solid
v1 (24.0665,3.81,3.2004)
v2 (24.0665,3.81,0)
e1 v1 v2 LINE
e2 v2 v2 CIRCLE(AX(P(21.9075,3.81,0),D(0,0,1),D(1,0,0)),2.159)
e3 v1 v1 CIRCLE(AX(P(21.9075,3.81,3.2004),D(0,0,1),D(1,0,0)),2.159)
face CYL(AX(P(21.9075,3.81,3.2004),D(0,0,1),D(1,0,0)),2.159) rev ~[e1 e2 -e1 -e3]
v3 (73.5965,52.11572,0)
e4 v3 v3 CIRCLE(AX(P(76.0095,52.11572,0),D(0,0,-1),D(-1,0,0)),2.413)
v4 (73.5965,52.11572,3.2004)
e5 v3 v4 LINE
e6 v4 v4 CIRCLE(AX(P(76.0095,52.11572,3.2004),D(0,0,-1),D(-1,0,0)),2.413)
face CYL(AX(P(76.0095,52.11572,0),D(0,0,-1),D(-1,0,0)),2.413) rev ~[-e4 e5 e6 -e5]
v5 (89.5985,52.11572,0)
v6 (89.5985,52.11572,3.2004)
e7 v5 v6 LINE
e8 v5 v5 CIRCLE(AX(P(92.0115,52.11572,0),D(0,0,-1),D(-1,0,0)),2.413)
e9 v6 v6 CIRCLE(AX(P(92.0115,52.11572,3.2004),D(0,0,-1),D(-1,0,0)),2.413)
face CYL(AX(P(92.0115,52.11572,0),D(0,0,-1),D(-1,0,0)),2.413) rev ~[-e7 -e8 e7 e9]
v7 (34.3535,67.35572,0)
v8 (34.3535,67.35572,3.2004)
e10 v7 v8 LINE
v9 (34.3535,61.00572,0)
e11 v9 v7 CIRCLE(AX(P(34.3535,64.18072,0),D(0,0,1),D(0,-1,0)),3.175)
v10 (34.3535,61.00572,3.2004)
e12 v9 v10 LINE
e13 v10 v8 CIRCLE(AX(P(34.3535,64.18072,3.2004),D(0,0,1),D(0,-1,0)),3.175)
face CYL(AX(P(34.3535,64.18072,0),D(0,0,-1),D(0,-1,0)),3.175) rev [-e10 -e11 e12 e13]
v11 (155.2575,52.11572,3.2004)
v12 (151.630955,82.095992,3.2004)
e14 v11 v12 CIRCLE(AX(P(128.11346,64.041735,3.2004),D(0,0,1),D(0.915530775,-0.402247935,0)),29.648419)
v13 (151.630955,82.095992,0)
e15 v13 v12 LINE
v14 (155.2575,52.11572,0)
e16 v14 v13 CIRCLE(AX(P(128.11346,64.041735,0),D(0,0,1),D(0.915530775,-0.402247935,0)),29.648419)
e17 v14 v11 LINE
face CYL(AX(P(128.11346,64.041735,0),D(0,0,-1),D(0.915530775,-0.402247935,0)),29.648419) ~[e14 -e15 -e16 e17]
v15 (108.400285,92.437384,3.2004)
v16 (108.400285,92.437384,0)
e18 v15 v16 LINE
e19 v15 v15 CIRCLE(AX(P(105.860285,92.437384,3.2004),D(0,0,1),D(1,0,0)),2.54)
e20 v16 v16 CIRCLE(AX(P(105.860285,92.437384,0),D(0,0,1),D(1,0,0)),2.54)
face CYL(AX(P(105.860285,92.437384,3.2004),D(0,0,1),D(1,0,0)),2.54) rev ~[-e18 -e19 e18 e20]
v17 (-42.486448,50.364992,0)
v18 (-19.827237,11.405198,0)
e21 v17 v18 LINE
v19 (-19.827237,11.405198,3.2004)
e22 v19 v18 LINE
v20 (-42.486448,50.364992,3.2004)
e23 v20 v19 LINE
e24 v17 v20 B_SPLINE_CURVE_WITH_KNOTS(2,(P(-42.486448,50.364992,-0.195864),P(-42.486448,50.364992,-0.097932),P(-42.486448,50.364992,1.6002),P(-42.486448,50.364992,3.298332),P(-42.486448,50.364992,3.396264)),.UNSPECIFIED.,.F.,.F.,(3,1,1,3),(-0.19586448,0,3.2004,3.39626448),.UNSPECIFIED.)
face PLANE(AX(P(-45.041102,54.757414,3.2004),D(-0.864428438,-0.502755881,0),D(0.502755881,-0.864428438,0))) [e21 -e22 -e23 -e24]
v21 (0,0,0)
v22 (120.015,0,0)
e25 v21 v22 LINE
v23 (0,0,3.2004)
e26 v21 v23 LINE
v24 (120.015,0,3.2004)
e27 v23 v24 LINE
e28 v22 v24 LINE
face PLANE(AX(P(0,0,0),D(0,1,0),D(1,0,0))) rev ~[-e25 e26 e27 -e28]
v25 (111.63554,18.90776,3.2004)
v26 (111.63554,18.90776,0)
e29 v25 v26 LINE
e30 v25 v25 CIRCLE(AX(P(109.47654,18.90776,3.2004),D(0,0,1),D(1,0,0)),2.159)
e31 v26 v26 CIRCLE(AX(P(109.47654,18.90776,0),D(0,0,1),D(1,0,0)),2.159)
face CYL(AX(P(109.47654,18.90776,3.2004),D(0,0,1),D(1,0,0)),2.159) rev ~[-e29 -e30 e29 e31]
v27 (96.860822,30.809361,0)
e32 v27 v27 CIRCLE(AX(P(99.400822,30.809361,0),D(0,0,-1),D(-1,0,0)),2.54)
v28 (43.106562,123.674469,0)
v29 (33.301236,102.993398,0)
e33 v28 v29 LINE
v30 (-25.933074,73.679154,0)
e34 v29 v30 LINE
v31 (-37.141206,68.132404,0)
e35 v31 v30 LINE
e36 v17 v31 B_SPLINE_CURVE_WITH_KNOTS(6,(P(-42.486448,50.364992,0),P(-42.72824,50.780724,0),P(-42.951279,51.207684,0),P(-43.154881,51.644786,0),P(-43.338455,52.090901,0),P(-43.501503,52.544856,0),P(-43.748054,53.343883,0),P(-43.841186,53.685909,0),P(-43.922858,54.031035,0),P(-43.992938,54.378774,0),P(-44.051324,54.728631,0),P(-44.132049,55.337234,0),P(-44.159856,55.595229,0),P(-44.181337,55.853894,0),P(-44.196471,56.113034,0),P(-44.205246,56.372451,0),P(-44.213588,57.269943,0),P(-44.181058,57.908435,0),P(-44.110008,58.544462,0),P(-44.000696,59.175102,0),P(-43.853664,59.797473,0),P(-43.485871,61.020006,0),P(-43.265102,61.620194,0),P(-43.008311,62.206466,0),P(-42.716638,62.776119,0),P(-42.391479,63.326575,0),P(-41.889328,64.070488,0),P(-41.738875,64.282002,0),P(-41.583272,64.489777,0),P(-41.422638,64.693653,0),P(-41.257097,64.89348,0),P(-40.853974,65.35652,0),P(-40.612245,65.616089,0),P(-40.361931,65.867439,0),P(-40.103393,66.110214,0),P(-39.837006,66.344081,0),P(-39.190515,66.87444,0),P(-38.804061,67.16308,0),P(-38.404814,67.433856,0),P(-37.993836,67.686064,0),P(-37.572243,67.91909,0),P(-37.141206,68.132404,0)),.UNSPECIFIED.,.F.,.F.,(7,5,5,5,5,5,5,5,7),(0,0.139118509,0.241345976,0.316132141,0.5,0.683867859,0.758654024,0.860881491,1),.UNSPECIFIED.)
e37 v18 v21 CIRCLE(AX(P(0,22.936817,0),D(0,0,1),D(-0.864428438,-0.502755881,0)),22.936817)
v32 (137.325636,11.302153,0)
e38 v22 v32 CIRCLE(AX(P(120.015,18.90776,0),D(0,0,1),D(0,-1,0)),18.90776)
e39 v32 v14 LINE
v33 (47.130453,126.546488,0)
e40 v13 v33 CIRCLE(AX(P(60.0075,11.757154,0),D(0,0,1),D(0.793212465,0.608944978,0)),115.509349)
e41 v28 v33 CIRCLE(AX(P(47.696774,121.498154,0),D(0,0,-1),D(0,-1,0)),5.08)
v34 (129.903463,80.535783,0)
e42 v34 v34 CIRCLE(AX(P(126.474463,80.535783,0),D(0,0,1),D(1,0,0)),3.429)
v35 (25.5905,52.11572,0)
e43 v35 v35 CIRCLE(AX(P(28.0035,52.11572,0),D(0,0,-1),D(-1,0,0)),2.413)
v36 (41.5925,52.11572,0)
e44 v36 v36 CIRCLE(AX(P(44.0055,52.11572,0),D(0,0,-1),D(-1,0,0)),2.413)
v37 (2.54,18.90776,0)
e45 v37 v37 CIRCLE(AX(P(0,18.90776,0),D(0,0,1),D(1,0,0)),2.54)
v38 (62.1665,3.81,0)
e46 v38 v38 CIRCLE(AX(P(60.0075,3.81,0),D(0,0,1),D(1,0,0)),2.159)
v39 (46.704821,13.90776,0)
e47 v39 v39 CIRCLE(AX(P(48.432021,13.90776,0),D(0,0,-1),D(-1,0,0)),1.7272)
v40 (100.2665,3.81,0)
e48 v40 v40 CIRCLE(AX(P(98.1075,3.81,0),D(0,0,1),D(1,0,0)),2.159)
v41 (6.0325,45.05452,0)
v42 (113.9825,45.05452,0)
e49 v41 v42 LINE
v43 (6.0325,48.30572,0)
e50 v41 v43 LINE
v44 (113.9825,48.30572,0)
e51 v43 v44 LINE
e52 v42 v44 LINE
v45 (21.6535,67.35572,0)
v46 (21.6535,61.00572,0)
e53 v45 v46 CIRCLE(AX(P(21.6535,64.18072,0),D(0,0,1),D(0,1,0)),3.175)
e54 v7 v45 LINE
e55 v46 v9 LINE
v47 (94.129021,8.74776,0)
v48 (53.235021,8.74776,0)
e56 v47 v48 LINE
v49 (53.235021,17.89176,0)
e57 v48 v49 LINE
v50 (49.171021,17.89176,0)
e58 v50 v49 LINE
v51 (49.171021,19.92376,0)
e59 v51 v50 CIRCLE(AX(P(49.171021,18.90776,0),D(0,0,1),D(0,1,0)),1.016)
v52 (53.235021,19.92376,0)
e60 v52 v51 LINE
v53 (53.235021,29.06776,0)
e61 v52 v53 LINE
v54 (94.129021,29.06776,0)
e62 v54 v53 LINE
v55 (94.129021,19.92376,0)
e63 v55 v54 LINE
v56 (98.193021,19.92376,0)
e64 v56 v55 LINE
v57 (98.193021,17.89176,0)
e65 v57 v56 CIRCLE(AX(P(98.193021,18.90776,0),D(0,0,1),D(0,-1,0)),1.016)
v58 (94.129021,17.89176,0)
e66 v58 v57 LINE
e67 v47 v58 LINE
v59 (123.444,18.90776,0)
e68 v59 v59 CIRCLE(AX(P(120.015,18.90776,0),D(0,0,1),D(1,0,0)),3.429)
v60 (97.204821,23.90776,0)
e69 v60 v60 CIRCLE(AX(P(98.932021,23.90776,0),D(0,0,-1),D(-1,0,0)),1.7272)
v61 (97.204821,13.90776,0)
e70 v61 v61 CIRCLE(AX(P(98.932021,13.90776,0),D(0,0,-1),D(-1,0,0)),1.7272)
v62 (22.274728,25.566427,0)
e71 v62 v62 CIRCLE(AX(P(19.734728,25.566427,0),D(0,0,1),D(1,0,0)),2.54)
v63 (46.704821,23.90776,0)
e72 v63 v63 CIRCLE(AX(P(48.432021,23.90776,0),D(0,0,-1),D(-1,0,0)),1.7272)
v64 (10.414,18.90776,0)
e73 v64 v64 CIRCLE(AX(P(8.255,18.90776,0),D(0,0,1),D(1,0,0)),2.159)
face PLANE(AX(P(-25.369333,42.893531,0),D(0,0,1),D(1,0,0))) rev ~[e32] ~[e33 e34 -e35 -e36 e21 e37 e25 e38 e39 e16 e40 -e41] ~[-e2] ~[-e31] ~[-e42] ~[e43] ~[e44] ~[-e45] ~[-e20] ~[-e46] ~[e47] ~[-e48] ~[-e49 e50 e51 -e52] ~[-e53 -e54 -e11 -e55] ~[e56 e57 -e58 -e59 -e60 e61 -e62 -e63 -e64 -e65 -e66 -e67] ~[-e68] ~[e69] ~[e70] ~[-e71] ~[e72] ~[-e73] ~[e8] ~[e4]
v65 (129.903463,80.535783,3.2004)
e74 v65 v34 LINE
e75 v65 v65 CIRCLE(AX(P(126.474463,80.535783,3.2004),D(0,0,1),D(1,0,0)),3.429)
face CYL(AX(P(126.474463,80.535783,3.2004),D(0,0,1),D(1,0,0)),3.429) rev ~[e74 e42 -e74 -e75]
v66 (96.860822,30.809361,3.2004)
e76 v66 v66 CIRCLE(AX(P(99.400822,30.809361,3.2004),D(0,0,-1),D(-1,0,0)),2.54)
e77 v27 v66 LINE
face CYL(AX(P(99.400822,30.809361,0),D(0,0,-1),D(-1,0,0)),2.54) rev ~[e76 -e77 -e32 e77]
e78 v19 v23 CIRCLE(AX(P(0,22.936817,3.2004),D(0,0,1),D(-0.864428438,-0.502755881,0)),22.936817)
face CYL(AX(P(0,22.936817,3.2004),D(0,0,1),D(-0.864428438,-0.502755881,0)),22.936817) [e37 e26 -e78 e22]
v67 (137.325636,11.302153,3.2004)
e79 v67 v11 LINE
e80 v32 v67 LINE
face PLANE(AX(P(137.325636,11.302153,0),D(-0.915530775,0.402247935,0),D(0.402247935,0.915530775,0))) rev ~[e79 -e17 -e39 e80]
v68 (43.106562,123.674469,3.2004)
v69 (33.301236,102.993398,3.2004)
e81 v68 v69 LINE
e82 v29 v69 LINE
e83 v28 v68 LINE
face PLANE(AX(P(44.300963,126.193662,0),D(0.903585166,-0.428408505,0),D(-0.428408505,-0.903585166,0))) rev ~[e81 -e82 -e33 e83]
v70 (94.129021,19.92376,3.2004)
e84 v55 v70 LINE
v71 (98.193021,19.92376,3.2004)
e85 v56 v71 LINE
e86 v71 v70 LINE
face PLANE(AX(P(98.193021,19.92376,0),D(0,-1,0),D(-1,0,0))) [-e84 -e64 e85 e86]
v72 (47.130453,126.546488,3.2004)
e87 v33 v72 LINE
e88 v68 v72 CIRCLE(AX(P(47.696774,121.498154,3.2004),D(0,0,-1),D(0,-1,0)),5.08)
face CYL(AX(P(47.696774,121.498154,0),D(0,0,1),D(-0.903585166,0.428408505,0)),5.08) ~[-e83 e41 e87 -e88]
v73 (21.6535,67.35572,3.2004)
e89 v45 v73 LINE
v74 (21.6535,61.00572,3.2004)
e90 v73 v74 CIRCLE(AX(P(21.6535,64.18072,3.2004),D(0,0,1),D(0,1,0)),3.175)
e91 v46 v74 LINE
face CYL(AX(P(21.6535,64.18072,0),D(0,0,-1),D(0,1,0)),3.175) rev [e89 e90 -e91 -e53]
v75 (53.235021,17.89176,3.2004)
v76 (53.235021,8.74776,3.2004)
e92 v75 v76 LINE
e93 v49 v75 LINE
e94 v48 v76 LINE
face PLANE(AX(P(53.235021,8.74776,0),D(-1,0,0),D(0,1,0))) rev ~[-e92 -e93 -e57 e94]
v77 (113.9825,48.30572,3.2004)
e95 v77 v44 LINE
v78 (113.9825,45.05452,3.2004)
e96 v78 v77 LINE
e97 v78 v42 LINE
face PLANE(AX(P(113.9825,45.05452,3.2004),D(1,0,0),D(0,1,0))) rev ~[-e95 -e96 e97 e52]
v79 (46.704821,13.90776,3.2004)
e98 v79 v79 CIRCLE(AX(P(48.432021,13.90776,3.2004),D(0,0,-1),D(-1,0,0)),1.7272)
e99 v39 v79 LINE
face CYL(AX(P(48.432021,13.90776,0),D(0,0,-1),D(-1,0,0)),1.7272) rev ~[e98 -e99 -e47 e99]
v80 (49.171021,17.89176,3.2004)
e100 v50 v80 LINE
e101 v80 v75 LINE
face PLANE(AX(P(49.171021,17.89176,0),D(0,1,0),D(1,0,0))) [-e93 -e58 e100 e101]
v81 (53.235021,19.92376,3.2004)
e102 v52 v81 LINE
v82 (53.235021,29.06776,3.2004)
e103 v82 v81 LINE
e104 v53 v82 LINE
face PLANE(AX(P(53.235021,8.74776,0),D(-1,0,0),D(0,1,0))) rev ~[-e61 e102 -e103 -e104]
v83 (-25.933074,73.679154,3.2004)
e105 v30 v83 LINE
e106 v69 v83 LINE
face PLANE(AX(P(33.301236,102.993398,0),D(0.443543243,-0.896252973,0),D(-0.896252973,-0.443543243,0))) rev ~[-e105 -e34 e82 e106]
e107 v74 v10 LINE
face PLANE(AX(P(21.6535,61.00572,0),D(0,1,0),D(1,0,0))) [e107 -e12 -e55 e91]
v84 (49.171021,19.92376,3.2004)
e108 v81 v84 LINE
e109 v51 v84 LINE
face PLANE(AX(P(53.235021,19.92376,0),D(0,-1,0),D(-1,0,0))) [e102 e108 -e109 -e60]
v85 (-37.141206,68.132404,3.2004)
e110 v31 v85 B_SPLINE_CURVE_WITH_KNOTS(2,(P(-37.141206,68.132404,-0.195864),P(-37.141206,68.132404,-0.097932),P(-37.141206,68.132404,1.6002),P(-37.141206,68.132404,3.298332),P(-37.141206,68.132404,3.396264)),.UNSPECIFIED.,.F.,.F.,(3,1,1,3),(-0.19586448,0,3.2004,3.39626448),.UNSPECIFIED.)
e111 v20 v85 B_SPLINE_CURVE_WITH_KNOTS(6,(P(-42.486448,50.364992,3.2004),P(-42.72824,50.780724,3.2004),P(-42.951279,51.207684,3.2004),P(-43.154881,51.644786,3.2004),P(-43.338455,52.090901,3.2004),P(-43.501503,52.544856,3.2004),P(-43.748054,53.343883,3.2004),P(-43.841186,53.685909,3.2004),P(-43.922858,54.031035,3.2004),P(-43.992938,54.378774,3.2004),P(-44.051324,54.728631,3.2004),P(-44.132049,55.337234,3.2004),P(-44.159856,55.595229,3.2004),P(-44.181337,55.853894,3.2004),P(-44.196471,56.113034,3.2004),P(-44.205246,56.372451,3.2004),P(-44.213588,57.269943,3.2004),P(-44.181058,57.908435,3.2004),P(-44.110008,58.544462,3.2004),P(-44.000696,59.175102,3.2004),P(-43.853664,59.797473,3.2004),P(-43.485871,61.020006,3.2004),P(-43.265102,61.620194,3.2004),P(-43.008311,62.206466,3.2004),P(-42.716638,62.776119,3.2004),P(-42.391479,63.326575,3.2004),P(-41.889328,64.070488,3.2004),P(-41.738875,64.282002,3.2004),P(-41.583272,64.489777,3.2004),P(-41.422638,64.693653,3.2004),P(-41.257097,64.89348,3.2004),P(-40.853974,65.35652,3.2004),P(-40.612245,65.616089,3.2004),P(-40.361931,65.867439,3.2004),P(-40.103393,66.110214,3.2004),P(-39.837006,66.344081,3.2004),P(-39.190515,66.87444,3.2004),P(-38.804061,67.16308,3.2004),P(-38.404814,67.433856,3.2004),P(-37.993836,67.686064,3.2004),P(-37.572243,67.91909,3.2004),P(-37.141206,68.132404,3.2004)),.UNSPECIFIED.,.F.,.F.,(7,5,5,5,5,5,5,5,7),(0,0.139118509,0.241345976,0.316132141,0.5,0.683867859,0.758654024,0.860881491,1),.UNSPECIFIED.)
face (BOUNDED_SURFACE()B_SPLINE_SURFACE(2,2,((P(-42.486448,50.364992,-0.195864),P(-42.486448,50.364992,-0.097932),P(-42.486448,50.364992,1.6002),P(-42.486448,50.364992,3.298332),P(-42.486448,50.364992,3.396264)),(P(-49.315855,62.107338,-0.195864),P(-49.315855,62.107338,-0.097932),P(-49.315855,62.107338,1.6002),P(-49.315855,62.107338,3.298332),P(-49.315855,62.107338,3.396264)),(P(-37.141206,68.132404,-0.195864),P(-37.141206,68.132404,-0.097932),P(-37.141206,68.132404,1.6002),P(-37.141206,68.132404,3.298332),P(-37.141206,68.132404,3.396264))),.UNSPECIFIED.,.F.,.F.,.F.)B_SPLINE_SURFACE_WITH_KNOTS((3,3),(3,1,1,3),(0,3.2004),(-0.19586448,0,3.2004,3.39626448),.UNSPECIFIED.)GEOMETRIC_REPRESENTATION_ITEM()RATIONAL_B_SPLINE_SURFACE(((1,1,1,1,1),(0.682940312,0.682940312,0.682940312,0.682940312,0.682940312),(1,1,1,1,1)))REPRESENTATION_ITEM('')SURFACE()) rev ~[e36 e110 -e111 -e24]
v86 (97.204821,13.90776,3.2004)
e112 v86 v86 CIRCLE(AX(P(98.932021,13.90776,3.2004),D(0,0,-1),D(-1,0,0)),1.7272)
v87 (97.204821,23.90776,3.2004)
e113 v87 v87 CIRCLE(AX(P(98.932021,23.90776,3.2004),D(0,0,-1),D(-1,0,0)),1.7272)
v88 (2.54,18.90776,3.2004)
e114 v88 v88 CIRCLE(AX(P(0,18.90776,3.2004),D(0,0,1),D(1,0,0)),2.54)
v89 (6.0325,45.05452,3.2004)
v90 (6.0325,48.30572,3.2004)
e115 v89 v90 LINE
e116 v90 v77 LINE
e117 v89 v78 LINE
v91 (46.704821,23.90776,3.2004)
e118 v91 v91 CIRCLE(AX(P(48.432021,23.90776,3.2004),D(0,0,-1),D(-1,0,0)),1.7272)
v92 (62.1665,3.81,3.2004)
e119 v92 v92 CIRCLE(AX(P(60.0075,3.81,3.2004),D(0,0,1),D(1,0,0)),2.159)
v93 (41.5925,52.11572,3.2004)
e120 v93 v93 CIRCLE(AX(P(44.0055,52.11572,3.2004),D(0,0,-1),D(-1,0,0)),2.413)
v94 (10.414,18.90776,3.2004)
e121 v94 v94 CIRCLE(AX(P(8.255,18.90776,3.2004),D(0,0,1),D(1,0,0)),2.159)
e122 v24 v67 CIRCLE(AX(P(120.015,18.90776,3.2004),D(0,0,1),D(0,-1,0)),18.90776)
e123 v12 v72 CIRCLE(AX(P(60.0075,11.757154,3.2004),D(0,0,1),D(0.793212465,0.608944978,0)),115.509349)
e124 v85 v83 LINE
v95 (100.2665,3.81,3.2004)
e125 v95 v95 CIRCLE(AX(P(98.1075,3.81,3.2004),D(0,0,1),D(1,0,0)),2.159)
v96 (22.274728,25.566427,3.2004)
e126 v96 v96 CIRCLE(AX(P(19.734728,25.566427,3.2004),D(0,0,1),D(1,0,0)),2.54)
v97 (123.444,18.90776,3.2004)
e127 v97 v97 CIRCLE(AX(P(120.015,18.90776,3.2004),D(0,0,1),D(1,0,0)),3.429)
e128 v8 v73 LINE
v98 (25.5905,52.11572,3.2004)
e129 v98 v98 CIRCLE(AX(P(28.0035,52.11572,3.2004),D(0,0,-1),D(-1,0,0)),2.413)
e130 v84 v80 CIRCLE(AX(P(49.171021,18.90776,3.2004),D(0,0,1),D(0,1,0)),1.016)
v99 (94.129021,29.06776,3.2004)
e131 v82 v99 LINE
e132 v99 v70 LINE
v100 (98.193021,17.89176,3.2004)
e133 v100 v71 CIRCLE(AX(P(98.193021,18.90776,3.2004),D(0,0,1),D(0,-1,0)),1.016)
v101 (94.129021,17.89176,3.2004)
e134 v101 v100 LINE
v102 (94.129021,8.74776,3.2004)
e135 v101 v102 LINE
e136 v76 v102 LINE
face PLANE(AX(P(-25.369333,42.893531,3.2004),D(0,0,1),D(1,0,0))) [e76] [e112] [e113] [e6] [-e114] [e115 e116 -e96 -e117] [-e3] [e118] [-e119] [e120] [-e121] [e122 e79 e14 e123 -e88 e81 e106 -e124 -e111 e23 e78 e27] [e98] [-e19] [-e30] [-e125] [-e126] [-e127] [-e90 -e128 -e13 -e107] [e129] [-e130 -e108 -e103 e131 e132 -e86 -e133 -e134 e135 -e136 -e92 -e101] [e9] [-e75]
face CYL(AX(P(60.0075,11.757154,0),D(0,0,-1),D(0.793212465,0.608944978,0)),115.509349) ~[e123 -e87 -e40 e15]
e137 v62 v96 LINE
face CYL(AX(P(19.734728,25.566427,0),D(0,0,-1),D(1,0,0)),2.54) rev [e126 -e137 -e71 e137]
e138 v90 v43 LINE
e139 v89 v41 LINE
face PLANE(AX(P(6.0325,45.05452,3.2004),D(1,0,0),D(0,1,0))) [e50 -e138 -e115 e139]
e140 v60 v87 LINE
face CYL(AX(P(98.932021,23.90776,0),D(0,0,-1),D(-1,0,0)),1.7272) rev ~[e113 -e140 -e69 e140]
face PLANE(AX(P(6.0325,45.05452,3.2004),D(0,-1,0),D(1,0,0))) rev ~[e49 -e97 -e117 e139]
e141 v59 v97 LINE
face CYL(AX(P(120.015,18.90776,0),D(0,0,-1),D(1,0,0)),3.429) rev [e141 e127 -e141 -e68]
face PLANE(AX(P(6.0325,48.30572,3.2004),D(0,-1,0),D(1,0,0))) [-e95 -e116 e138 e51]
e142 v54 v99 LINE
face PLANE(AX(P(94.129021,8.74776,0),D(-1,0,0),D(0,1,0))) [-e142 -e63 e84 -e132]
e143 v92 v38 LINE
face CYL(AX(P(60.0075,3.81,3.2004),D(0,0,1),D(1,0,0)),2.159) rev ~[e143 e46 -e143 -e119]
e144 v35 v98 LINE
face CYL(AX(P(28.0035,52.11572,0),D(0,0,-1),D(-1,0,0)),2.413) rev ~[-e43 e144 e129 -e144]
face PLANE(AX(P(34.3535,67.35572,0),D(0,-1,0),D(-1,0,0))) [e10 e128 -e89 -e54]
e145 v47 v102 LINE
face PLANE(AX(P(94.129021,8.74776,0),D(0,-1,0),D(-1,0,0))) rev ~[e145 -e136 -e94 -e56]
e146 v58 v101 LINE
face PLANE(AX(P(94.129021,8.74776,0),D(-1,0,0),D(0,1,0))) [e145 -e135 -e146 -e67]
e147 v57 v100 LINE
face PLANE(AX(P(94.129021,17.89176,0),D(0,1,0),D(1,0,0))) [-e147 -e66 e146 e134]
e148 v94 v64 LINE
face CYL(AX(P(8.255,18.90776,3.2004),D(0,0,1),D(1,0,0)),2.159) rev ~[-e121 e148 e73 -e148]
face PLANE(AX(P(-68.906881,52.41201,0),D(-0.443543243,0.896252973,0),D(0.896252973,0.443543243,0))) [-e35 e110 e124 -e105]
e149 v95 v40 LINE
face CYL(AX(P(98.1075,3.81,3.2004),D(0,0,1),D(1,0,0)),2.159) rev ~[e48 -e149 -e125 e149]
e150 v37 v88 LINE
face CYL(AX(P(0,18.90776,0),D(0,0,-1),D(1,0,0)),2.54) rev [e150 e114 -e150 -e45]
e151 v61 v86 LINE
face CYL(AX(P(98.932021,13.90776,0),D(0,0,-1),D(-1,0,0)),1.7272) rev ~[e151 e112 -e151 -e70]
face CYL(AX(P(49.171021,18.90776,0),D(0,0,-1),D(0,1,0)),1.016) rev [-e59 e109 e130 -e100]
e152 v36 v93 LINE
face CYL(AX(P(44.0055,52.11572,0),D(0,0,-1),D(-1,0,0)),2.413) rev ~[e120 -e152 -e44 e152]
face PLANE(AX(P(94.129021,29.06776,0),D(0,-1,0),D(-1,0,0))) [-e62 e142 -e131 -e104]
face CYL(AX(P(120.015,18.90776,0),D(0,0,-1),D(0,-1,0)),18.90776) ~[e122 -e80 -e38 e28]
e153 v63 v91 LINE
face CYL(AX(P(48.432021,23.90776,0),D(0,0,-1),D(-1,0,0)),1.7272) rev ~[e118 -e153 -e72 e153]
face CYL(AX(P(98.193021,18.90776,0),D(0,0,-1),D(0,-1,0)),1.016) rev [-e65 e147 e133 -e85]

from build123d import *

# Parameters (mm, degrees)
SKETCH1_R           = 3.429
SKETCH1_R_2         = 2.54
BOSS_EXTRUDE1_DEPTH = 3.2004
SKETCH2_R           = 2.413
CUT_EXTRUDE1_DEPTH  = 3.2004
SKETCH5_R           = 1.7272
SKETCH5_W           = 40.894
SKETCH5_H           = 20.32
CUT_EXTRUDE3_DEPTH  = 4.2004
CUT_EXTRUDE5_DEPTH  = 3.2004
SKETCH6_R           = 2.54
CUT_EXTRUDE4_DEPTH  = 4.2004
SKETCH9_R           = 2.159
CUT_EXTRUDE6_DEPTH  = 3.2004
SKETCH10_W          = 107.95
SKETCH10_H          = 3.2512
CUT_EXTRUDE7_DEPTH  = 3.2004
SKETCH11_R          = 3.429
SKETCH11_R_2        = 2.54
CUT_EXTRUDE8_DEPTH  = 3.2004
CUT_EXTRUDE9_DEPTH  = 3.2004
SKETCH15_R          = 2.159
CUT_EXTRUDE10_DEPTH = 3.2004
BOSS_EXTRUDE2_DEPTH = 3.2004
FILLET1_R           = 5.08
CUT_EXTRUDE11_DEPTH = 3.2004
CUT_EXTRUDE12_DEPTH = 3.2004
FILLET2_R           = 12.7


with BuildPart() as part:
    # Sketch1 → Boss-Extrude1 (new body)
    with BuildSketch(Plane.XY):
        with BuildLine():
            Line((0, 0), (120.015, 0))
            ThreePointArc((120.015, 0), (130.351788396, 3.075697789), (137.325636158, 11.302152592))
            Line((137.325636158, 11.302152592), (155.2575, 52.11572))
            ThreePointArc((155.2575, 52.11572), (157.54731739, 67.602183396), (151.630955452, 82.09599151))
            ThreePointArc((151.630955452, 82.09599151), (60.0075, 127.266502568), (-31.615955452, 82.09599151))
            ThreePointArc((-31.615955452, 82.09599151), (-37.53231739, 67.602183396), (-35.2425, 52.11572))
            Line((-35.2425, 52.11572), (-17.310636158, 11.302152592))
            ThreePointArc((-17.310636158, 11.302152592), (-10.336788396, 3.075697789), (0, 0))
        make_face()
        with Locations((120.015, 18.90776)):
            Circle(SKETCH1_R, mode=Mode.SUBTRACT)
        with Locations((0, 18.90776)):
            Circle(SKETCH1_R_2, mode=Mode.SUBTRACT)
        with Locations((19.734727626, 25.566426992)):
            Circle(SKETCH1_R_2, mode=Mode.SUBTRACT)
    extrude(amount=BOSS_EXTRUDE1_DEPTH)

    # Sketch2 → Cut-Extrude1 (cut)
    with BuildSketch(Plane(origin=(0, 0, 0), x_dir=(-1, 0, 0), z_dir=(0, 0, -1))):
        with Locations((-92.0115, 52.11572)):
            Circle(SKETCH2_R)
        with Locations((-76.0095, 52.11572)):
            Circle(SKETCH2_R)
        with Locations((-44.0055, 52.11572)):
            Circle(SKETCH2_R)
        with Locations((-28.0035, 52.11572)):
            Circle(SKETCH2_R)
    extrude(amount=-CUT_EXTRUDE1_DEPTH, mode=Mode.SUBTRACT)

    # Sketch5 → Cut-Extrude3 (cut, through all)
    with BuildSketch(Plane(origin=(0, 0, 0), x_dir=(-1, 0, 0), z_dir=(0, 0, -1))):
        with Locations((-98.932021353, 23.907759967)):
            Circle(SKETCH5_R)
        with Locations((-48.432021353, 13.907760033)):
            Circle(SKETCH5_R)
        with Locations((-48.432021353, 23.907759967)):
            Circle(SKETCH5_R)
        with Locations((-98.932021353, 13.907760033)):
            Circle(SKETCH5_R)
        with Locations((-73.682021353, 18.90776)):
            Rectangle(SKETCH5_W, SKETCH5_H)
    extrude(amount=-CUT_EXTRUDE3_DEPTH, mode=Mode.SUBTRACT)

    # Sketch7 → Cut-Extrude5 (cut)
    with BuildSketch(Plane(origin=(0, 0, 0), x_dir=(-1, 0, 0), z_dir=(0, 0, -1))):
        with BuildLine():
            Line((-98.193021353, 19.92376), (-94.129021353, 19.92376))
            Line((-94.129021353, 19.92376), (-94.129021353, 17.89176))
            Line((-94.129021353, 17.89176), (-98.193021353, 17.89176))
            ThreePointArc((-98.193021353, 17.89176), (-99.209021353, 18.90776), (-98.193021353, 19.92376))
        make_face()
        with BuildLine():
            Line((-53.235021353, 19.92376), (-49.171021353, 19.92376))
            ThreePointArc((-49.171021353, 19.92376), (-48.155021353, 18.90776), (-49.171021353, 17.89176))
            Line((-49.171021353, 17.89176), (-53.235021353, 17.89176))
            Line((-53.235021353, 17.89176), (-53.235021353, 19.92376))
        make_face()
    extrude(amount=-CUT_EXTRUDE5_DEPTH, mode=Mode.SUBTRACT)

    # Sketch6 → Cut-Extrude4 (cut, through all)
    with BuildSketch(Plane(origin=(0, 0, 0), x_dir=(-1, 0, 0), z_dir=(0, 0, -1))):
        with Locations((-99.400822485, 30.809360937)):
            Circle(SKETCH6_R)
    extrude(amount=-CUT_EXTRUDE4_DEPTH, mode=Mode.SUBTRACT)

    # Sketch9 → Cut-Extrude6 (cut)
    with BuildSketch(Plane.XY.offset(3.2004)):
        with Locations((21.9075, 3.81)):
            Circle(SKETCH9_R)
        with Locations((60.0075, 3.81)):
            Circle(SKETCH9_R)
        with Locations((98.1075, 3.81)):
            Circle(SKETCH9_R)
    extrude(amount=-CUT_EXTRUDE6_DEPTH, mode=Mode.SUBTRACT)

    # Sketch10 → Cut-Extrude7 (cut)
    with BuildSketch(Plane.XY.offset(3.2004)):
        with Locations((60.0075, 46.68012)):
            Rectangle(SKETCH10_W, SKETCH10_H)
    extrude(amount=-CUT_EXTRUDE7_DEPTH, mode=Mode.SUBTRACT)

    # Sketch11 → Cut-Extrude8 (cut)
    with BuildSketch(Plane.XY.offset(3.2004)):
        with Locations((126.474462556, 80.535782848)):
            Circle(SKETCH11_R)
        with Locations((105.860285087, 92.437383759)):
            Circle(SKETCH11_R_2)
    extrude(amount=-CUT_EXTRUDE8_DEPTH, mode=Mode.SUBTRACT)

    # Sketch14 → Cut-Extrude9 (cut)
    with BuildSketch(Plane(origin=(0, 0, 0), x_dir=(-1, 0, 0), z_dir=(0, 0, -1))):
        with BuildLine():
            Line((-44.300963253, 126.193661773), (-33.301235987, 102.993397816))
            Line((-33.301235987, 102.993397816), (25.933073592, 73.679154431))
            Line((25.933073592, 73.679154431), (30.688377769, 83.288038279))
            ThreePointArc((30.688377769, 83.288038279), (-2.643821722, 112.015909409), (-44.300963253, 126.193661773))
        make_face()
    extrude(amount=-CUT_EXTRUDE9_DEPTH, mode=Mode.SUBTRACT)

    # Sketch15 → Cut-Extrude10 (cut)
    with BuildSketch(Plane.XY.offset(3.2004)):
        with Locations((8.255, 18.90776)):
            Circle(SKETCH15_R)
        with Locations((109.47654, 18.90776)):
            Circle(SKETCH15_R)
    extrude(amount=-CUT_EXTRUDE10_DEPTH, mode=Mode.SUBTRACT)

    # Sketch16 → Boss-Extrude2 (add)
    with BuildSketch(Plane.XY.offset(3.2004)):
        with BuildLine():
            Line((-45.041102147, 54.757414103), (-19.827237301, 11.4051976))
            ThreePointArc((-19.827237301, 11.4051976), (-11.436759498, 3.05471175), (0, 0))
            ThreePointArc((0, 0), (-15.87467945, 35.815989499), (-25.933073592, 73.679154431))
            Line((-25.933073592, 73.679154431), (-33.949803194, 89.878291377))
            ThreePointArc((-33.949803194, 89.878291377), (-38.093703484, 85.921735268), (-42.068546328, 81.795372437))
            ThreePointArc((-42.068546328, 81.795372437), (-48.007013112, 68.765867356), (-45.041102147, 54.757414103))
        make_face()
    extrude(amount=-BOSS_EXTRUDE2_DEPTH)

    # Fillet1
    fillet1_edges = [part.edges().sort_by_distance(p)[0] for p in [
        (44.300963253, 126.193661773, 1.6002),
        (-33.949803194, 89.878291377, 1.6002),
    ]]
    fillet(fillet1_edges, radius=FILLET1_R)

    # Sketch17 → Cut-Extrude11 (cut)
    with BuildSketch(Plane(origin=(0, 0, 0), x_dir=(-1, 0, 0), z_dir=(0, 0, -1))):
        with BuildLine():
            Line((-34.3535, 67.35572), (-21.6535, 67.35572))
            ThreePointArc((-21.6535, 67.35572), (-18.4785, 64.18072), (-21.6535, 61.00572))
            Line((-21.6535, 61.00572), (-34.3535, 61.00572))
            ThreePointArc((-34.3535, 61.00572), (-37.5285, 64.18072), (-34.3535, 67.35572))
        make_face()
    extrude(amount=-CUT_EXTRUDE11_DEPTH, mode=Mode.SUBTRACT)

    # Sketch18 → Cut-Extrude12 (cut)
    with BuildSketch(Plane(origin=(0, 0, 0), x_dir=(-1, 0, 0), z_dir=(0, 0, -1))):
        Polygon((25.933073592, 73.679154431), (45.392963589, 113.00110224), (91.414081971, 83.705991697), (68.906880725, 52.412009588), align=None)
    extrude(amount=-CUT_EXTRUDE12_DEPTH, mode=Mode.SUBTRACT)

    # Fillet2
    fillet2_edges = [part.edges().sort_by_distance(p)[0] for p in [
        (-47.882876097, 62.816499705, 1.6002),
    ]]
    fillet(fillet2_edges, radius=FILLET2_R)


solid = part.part
